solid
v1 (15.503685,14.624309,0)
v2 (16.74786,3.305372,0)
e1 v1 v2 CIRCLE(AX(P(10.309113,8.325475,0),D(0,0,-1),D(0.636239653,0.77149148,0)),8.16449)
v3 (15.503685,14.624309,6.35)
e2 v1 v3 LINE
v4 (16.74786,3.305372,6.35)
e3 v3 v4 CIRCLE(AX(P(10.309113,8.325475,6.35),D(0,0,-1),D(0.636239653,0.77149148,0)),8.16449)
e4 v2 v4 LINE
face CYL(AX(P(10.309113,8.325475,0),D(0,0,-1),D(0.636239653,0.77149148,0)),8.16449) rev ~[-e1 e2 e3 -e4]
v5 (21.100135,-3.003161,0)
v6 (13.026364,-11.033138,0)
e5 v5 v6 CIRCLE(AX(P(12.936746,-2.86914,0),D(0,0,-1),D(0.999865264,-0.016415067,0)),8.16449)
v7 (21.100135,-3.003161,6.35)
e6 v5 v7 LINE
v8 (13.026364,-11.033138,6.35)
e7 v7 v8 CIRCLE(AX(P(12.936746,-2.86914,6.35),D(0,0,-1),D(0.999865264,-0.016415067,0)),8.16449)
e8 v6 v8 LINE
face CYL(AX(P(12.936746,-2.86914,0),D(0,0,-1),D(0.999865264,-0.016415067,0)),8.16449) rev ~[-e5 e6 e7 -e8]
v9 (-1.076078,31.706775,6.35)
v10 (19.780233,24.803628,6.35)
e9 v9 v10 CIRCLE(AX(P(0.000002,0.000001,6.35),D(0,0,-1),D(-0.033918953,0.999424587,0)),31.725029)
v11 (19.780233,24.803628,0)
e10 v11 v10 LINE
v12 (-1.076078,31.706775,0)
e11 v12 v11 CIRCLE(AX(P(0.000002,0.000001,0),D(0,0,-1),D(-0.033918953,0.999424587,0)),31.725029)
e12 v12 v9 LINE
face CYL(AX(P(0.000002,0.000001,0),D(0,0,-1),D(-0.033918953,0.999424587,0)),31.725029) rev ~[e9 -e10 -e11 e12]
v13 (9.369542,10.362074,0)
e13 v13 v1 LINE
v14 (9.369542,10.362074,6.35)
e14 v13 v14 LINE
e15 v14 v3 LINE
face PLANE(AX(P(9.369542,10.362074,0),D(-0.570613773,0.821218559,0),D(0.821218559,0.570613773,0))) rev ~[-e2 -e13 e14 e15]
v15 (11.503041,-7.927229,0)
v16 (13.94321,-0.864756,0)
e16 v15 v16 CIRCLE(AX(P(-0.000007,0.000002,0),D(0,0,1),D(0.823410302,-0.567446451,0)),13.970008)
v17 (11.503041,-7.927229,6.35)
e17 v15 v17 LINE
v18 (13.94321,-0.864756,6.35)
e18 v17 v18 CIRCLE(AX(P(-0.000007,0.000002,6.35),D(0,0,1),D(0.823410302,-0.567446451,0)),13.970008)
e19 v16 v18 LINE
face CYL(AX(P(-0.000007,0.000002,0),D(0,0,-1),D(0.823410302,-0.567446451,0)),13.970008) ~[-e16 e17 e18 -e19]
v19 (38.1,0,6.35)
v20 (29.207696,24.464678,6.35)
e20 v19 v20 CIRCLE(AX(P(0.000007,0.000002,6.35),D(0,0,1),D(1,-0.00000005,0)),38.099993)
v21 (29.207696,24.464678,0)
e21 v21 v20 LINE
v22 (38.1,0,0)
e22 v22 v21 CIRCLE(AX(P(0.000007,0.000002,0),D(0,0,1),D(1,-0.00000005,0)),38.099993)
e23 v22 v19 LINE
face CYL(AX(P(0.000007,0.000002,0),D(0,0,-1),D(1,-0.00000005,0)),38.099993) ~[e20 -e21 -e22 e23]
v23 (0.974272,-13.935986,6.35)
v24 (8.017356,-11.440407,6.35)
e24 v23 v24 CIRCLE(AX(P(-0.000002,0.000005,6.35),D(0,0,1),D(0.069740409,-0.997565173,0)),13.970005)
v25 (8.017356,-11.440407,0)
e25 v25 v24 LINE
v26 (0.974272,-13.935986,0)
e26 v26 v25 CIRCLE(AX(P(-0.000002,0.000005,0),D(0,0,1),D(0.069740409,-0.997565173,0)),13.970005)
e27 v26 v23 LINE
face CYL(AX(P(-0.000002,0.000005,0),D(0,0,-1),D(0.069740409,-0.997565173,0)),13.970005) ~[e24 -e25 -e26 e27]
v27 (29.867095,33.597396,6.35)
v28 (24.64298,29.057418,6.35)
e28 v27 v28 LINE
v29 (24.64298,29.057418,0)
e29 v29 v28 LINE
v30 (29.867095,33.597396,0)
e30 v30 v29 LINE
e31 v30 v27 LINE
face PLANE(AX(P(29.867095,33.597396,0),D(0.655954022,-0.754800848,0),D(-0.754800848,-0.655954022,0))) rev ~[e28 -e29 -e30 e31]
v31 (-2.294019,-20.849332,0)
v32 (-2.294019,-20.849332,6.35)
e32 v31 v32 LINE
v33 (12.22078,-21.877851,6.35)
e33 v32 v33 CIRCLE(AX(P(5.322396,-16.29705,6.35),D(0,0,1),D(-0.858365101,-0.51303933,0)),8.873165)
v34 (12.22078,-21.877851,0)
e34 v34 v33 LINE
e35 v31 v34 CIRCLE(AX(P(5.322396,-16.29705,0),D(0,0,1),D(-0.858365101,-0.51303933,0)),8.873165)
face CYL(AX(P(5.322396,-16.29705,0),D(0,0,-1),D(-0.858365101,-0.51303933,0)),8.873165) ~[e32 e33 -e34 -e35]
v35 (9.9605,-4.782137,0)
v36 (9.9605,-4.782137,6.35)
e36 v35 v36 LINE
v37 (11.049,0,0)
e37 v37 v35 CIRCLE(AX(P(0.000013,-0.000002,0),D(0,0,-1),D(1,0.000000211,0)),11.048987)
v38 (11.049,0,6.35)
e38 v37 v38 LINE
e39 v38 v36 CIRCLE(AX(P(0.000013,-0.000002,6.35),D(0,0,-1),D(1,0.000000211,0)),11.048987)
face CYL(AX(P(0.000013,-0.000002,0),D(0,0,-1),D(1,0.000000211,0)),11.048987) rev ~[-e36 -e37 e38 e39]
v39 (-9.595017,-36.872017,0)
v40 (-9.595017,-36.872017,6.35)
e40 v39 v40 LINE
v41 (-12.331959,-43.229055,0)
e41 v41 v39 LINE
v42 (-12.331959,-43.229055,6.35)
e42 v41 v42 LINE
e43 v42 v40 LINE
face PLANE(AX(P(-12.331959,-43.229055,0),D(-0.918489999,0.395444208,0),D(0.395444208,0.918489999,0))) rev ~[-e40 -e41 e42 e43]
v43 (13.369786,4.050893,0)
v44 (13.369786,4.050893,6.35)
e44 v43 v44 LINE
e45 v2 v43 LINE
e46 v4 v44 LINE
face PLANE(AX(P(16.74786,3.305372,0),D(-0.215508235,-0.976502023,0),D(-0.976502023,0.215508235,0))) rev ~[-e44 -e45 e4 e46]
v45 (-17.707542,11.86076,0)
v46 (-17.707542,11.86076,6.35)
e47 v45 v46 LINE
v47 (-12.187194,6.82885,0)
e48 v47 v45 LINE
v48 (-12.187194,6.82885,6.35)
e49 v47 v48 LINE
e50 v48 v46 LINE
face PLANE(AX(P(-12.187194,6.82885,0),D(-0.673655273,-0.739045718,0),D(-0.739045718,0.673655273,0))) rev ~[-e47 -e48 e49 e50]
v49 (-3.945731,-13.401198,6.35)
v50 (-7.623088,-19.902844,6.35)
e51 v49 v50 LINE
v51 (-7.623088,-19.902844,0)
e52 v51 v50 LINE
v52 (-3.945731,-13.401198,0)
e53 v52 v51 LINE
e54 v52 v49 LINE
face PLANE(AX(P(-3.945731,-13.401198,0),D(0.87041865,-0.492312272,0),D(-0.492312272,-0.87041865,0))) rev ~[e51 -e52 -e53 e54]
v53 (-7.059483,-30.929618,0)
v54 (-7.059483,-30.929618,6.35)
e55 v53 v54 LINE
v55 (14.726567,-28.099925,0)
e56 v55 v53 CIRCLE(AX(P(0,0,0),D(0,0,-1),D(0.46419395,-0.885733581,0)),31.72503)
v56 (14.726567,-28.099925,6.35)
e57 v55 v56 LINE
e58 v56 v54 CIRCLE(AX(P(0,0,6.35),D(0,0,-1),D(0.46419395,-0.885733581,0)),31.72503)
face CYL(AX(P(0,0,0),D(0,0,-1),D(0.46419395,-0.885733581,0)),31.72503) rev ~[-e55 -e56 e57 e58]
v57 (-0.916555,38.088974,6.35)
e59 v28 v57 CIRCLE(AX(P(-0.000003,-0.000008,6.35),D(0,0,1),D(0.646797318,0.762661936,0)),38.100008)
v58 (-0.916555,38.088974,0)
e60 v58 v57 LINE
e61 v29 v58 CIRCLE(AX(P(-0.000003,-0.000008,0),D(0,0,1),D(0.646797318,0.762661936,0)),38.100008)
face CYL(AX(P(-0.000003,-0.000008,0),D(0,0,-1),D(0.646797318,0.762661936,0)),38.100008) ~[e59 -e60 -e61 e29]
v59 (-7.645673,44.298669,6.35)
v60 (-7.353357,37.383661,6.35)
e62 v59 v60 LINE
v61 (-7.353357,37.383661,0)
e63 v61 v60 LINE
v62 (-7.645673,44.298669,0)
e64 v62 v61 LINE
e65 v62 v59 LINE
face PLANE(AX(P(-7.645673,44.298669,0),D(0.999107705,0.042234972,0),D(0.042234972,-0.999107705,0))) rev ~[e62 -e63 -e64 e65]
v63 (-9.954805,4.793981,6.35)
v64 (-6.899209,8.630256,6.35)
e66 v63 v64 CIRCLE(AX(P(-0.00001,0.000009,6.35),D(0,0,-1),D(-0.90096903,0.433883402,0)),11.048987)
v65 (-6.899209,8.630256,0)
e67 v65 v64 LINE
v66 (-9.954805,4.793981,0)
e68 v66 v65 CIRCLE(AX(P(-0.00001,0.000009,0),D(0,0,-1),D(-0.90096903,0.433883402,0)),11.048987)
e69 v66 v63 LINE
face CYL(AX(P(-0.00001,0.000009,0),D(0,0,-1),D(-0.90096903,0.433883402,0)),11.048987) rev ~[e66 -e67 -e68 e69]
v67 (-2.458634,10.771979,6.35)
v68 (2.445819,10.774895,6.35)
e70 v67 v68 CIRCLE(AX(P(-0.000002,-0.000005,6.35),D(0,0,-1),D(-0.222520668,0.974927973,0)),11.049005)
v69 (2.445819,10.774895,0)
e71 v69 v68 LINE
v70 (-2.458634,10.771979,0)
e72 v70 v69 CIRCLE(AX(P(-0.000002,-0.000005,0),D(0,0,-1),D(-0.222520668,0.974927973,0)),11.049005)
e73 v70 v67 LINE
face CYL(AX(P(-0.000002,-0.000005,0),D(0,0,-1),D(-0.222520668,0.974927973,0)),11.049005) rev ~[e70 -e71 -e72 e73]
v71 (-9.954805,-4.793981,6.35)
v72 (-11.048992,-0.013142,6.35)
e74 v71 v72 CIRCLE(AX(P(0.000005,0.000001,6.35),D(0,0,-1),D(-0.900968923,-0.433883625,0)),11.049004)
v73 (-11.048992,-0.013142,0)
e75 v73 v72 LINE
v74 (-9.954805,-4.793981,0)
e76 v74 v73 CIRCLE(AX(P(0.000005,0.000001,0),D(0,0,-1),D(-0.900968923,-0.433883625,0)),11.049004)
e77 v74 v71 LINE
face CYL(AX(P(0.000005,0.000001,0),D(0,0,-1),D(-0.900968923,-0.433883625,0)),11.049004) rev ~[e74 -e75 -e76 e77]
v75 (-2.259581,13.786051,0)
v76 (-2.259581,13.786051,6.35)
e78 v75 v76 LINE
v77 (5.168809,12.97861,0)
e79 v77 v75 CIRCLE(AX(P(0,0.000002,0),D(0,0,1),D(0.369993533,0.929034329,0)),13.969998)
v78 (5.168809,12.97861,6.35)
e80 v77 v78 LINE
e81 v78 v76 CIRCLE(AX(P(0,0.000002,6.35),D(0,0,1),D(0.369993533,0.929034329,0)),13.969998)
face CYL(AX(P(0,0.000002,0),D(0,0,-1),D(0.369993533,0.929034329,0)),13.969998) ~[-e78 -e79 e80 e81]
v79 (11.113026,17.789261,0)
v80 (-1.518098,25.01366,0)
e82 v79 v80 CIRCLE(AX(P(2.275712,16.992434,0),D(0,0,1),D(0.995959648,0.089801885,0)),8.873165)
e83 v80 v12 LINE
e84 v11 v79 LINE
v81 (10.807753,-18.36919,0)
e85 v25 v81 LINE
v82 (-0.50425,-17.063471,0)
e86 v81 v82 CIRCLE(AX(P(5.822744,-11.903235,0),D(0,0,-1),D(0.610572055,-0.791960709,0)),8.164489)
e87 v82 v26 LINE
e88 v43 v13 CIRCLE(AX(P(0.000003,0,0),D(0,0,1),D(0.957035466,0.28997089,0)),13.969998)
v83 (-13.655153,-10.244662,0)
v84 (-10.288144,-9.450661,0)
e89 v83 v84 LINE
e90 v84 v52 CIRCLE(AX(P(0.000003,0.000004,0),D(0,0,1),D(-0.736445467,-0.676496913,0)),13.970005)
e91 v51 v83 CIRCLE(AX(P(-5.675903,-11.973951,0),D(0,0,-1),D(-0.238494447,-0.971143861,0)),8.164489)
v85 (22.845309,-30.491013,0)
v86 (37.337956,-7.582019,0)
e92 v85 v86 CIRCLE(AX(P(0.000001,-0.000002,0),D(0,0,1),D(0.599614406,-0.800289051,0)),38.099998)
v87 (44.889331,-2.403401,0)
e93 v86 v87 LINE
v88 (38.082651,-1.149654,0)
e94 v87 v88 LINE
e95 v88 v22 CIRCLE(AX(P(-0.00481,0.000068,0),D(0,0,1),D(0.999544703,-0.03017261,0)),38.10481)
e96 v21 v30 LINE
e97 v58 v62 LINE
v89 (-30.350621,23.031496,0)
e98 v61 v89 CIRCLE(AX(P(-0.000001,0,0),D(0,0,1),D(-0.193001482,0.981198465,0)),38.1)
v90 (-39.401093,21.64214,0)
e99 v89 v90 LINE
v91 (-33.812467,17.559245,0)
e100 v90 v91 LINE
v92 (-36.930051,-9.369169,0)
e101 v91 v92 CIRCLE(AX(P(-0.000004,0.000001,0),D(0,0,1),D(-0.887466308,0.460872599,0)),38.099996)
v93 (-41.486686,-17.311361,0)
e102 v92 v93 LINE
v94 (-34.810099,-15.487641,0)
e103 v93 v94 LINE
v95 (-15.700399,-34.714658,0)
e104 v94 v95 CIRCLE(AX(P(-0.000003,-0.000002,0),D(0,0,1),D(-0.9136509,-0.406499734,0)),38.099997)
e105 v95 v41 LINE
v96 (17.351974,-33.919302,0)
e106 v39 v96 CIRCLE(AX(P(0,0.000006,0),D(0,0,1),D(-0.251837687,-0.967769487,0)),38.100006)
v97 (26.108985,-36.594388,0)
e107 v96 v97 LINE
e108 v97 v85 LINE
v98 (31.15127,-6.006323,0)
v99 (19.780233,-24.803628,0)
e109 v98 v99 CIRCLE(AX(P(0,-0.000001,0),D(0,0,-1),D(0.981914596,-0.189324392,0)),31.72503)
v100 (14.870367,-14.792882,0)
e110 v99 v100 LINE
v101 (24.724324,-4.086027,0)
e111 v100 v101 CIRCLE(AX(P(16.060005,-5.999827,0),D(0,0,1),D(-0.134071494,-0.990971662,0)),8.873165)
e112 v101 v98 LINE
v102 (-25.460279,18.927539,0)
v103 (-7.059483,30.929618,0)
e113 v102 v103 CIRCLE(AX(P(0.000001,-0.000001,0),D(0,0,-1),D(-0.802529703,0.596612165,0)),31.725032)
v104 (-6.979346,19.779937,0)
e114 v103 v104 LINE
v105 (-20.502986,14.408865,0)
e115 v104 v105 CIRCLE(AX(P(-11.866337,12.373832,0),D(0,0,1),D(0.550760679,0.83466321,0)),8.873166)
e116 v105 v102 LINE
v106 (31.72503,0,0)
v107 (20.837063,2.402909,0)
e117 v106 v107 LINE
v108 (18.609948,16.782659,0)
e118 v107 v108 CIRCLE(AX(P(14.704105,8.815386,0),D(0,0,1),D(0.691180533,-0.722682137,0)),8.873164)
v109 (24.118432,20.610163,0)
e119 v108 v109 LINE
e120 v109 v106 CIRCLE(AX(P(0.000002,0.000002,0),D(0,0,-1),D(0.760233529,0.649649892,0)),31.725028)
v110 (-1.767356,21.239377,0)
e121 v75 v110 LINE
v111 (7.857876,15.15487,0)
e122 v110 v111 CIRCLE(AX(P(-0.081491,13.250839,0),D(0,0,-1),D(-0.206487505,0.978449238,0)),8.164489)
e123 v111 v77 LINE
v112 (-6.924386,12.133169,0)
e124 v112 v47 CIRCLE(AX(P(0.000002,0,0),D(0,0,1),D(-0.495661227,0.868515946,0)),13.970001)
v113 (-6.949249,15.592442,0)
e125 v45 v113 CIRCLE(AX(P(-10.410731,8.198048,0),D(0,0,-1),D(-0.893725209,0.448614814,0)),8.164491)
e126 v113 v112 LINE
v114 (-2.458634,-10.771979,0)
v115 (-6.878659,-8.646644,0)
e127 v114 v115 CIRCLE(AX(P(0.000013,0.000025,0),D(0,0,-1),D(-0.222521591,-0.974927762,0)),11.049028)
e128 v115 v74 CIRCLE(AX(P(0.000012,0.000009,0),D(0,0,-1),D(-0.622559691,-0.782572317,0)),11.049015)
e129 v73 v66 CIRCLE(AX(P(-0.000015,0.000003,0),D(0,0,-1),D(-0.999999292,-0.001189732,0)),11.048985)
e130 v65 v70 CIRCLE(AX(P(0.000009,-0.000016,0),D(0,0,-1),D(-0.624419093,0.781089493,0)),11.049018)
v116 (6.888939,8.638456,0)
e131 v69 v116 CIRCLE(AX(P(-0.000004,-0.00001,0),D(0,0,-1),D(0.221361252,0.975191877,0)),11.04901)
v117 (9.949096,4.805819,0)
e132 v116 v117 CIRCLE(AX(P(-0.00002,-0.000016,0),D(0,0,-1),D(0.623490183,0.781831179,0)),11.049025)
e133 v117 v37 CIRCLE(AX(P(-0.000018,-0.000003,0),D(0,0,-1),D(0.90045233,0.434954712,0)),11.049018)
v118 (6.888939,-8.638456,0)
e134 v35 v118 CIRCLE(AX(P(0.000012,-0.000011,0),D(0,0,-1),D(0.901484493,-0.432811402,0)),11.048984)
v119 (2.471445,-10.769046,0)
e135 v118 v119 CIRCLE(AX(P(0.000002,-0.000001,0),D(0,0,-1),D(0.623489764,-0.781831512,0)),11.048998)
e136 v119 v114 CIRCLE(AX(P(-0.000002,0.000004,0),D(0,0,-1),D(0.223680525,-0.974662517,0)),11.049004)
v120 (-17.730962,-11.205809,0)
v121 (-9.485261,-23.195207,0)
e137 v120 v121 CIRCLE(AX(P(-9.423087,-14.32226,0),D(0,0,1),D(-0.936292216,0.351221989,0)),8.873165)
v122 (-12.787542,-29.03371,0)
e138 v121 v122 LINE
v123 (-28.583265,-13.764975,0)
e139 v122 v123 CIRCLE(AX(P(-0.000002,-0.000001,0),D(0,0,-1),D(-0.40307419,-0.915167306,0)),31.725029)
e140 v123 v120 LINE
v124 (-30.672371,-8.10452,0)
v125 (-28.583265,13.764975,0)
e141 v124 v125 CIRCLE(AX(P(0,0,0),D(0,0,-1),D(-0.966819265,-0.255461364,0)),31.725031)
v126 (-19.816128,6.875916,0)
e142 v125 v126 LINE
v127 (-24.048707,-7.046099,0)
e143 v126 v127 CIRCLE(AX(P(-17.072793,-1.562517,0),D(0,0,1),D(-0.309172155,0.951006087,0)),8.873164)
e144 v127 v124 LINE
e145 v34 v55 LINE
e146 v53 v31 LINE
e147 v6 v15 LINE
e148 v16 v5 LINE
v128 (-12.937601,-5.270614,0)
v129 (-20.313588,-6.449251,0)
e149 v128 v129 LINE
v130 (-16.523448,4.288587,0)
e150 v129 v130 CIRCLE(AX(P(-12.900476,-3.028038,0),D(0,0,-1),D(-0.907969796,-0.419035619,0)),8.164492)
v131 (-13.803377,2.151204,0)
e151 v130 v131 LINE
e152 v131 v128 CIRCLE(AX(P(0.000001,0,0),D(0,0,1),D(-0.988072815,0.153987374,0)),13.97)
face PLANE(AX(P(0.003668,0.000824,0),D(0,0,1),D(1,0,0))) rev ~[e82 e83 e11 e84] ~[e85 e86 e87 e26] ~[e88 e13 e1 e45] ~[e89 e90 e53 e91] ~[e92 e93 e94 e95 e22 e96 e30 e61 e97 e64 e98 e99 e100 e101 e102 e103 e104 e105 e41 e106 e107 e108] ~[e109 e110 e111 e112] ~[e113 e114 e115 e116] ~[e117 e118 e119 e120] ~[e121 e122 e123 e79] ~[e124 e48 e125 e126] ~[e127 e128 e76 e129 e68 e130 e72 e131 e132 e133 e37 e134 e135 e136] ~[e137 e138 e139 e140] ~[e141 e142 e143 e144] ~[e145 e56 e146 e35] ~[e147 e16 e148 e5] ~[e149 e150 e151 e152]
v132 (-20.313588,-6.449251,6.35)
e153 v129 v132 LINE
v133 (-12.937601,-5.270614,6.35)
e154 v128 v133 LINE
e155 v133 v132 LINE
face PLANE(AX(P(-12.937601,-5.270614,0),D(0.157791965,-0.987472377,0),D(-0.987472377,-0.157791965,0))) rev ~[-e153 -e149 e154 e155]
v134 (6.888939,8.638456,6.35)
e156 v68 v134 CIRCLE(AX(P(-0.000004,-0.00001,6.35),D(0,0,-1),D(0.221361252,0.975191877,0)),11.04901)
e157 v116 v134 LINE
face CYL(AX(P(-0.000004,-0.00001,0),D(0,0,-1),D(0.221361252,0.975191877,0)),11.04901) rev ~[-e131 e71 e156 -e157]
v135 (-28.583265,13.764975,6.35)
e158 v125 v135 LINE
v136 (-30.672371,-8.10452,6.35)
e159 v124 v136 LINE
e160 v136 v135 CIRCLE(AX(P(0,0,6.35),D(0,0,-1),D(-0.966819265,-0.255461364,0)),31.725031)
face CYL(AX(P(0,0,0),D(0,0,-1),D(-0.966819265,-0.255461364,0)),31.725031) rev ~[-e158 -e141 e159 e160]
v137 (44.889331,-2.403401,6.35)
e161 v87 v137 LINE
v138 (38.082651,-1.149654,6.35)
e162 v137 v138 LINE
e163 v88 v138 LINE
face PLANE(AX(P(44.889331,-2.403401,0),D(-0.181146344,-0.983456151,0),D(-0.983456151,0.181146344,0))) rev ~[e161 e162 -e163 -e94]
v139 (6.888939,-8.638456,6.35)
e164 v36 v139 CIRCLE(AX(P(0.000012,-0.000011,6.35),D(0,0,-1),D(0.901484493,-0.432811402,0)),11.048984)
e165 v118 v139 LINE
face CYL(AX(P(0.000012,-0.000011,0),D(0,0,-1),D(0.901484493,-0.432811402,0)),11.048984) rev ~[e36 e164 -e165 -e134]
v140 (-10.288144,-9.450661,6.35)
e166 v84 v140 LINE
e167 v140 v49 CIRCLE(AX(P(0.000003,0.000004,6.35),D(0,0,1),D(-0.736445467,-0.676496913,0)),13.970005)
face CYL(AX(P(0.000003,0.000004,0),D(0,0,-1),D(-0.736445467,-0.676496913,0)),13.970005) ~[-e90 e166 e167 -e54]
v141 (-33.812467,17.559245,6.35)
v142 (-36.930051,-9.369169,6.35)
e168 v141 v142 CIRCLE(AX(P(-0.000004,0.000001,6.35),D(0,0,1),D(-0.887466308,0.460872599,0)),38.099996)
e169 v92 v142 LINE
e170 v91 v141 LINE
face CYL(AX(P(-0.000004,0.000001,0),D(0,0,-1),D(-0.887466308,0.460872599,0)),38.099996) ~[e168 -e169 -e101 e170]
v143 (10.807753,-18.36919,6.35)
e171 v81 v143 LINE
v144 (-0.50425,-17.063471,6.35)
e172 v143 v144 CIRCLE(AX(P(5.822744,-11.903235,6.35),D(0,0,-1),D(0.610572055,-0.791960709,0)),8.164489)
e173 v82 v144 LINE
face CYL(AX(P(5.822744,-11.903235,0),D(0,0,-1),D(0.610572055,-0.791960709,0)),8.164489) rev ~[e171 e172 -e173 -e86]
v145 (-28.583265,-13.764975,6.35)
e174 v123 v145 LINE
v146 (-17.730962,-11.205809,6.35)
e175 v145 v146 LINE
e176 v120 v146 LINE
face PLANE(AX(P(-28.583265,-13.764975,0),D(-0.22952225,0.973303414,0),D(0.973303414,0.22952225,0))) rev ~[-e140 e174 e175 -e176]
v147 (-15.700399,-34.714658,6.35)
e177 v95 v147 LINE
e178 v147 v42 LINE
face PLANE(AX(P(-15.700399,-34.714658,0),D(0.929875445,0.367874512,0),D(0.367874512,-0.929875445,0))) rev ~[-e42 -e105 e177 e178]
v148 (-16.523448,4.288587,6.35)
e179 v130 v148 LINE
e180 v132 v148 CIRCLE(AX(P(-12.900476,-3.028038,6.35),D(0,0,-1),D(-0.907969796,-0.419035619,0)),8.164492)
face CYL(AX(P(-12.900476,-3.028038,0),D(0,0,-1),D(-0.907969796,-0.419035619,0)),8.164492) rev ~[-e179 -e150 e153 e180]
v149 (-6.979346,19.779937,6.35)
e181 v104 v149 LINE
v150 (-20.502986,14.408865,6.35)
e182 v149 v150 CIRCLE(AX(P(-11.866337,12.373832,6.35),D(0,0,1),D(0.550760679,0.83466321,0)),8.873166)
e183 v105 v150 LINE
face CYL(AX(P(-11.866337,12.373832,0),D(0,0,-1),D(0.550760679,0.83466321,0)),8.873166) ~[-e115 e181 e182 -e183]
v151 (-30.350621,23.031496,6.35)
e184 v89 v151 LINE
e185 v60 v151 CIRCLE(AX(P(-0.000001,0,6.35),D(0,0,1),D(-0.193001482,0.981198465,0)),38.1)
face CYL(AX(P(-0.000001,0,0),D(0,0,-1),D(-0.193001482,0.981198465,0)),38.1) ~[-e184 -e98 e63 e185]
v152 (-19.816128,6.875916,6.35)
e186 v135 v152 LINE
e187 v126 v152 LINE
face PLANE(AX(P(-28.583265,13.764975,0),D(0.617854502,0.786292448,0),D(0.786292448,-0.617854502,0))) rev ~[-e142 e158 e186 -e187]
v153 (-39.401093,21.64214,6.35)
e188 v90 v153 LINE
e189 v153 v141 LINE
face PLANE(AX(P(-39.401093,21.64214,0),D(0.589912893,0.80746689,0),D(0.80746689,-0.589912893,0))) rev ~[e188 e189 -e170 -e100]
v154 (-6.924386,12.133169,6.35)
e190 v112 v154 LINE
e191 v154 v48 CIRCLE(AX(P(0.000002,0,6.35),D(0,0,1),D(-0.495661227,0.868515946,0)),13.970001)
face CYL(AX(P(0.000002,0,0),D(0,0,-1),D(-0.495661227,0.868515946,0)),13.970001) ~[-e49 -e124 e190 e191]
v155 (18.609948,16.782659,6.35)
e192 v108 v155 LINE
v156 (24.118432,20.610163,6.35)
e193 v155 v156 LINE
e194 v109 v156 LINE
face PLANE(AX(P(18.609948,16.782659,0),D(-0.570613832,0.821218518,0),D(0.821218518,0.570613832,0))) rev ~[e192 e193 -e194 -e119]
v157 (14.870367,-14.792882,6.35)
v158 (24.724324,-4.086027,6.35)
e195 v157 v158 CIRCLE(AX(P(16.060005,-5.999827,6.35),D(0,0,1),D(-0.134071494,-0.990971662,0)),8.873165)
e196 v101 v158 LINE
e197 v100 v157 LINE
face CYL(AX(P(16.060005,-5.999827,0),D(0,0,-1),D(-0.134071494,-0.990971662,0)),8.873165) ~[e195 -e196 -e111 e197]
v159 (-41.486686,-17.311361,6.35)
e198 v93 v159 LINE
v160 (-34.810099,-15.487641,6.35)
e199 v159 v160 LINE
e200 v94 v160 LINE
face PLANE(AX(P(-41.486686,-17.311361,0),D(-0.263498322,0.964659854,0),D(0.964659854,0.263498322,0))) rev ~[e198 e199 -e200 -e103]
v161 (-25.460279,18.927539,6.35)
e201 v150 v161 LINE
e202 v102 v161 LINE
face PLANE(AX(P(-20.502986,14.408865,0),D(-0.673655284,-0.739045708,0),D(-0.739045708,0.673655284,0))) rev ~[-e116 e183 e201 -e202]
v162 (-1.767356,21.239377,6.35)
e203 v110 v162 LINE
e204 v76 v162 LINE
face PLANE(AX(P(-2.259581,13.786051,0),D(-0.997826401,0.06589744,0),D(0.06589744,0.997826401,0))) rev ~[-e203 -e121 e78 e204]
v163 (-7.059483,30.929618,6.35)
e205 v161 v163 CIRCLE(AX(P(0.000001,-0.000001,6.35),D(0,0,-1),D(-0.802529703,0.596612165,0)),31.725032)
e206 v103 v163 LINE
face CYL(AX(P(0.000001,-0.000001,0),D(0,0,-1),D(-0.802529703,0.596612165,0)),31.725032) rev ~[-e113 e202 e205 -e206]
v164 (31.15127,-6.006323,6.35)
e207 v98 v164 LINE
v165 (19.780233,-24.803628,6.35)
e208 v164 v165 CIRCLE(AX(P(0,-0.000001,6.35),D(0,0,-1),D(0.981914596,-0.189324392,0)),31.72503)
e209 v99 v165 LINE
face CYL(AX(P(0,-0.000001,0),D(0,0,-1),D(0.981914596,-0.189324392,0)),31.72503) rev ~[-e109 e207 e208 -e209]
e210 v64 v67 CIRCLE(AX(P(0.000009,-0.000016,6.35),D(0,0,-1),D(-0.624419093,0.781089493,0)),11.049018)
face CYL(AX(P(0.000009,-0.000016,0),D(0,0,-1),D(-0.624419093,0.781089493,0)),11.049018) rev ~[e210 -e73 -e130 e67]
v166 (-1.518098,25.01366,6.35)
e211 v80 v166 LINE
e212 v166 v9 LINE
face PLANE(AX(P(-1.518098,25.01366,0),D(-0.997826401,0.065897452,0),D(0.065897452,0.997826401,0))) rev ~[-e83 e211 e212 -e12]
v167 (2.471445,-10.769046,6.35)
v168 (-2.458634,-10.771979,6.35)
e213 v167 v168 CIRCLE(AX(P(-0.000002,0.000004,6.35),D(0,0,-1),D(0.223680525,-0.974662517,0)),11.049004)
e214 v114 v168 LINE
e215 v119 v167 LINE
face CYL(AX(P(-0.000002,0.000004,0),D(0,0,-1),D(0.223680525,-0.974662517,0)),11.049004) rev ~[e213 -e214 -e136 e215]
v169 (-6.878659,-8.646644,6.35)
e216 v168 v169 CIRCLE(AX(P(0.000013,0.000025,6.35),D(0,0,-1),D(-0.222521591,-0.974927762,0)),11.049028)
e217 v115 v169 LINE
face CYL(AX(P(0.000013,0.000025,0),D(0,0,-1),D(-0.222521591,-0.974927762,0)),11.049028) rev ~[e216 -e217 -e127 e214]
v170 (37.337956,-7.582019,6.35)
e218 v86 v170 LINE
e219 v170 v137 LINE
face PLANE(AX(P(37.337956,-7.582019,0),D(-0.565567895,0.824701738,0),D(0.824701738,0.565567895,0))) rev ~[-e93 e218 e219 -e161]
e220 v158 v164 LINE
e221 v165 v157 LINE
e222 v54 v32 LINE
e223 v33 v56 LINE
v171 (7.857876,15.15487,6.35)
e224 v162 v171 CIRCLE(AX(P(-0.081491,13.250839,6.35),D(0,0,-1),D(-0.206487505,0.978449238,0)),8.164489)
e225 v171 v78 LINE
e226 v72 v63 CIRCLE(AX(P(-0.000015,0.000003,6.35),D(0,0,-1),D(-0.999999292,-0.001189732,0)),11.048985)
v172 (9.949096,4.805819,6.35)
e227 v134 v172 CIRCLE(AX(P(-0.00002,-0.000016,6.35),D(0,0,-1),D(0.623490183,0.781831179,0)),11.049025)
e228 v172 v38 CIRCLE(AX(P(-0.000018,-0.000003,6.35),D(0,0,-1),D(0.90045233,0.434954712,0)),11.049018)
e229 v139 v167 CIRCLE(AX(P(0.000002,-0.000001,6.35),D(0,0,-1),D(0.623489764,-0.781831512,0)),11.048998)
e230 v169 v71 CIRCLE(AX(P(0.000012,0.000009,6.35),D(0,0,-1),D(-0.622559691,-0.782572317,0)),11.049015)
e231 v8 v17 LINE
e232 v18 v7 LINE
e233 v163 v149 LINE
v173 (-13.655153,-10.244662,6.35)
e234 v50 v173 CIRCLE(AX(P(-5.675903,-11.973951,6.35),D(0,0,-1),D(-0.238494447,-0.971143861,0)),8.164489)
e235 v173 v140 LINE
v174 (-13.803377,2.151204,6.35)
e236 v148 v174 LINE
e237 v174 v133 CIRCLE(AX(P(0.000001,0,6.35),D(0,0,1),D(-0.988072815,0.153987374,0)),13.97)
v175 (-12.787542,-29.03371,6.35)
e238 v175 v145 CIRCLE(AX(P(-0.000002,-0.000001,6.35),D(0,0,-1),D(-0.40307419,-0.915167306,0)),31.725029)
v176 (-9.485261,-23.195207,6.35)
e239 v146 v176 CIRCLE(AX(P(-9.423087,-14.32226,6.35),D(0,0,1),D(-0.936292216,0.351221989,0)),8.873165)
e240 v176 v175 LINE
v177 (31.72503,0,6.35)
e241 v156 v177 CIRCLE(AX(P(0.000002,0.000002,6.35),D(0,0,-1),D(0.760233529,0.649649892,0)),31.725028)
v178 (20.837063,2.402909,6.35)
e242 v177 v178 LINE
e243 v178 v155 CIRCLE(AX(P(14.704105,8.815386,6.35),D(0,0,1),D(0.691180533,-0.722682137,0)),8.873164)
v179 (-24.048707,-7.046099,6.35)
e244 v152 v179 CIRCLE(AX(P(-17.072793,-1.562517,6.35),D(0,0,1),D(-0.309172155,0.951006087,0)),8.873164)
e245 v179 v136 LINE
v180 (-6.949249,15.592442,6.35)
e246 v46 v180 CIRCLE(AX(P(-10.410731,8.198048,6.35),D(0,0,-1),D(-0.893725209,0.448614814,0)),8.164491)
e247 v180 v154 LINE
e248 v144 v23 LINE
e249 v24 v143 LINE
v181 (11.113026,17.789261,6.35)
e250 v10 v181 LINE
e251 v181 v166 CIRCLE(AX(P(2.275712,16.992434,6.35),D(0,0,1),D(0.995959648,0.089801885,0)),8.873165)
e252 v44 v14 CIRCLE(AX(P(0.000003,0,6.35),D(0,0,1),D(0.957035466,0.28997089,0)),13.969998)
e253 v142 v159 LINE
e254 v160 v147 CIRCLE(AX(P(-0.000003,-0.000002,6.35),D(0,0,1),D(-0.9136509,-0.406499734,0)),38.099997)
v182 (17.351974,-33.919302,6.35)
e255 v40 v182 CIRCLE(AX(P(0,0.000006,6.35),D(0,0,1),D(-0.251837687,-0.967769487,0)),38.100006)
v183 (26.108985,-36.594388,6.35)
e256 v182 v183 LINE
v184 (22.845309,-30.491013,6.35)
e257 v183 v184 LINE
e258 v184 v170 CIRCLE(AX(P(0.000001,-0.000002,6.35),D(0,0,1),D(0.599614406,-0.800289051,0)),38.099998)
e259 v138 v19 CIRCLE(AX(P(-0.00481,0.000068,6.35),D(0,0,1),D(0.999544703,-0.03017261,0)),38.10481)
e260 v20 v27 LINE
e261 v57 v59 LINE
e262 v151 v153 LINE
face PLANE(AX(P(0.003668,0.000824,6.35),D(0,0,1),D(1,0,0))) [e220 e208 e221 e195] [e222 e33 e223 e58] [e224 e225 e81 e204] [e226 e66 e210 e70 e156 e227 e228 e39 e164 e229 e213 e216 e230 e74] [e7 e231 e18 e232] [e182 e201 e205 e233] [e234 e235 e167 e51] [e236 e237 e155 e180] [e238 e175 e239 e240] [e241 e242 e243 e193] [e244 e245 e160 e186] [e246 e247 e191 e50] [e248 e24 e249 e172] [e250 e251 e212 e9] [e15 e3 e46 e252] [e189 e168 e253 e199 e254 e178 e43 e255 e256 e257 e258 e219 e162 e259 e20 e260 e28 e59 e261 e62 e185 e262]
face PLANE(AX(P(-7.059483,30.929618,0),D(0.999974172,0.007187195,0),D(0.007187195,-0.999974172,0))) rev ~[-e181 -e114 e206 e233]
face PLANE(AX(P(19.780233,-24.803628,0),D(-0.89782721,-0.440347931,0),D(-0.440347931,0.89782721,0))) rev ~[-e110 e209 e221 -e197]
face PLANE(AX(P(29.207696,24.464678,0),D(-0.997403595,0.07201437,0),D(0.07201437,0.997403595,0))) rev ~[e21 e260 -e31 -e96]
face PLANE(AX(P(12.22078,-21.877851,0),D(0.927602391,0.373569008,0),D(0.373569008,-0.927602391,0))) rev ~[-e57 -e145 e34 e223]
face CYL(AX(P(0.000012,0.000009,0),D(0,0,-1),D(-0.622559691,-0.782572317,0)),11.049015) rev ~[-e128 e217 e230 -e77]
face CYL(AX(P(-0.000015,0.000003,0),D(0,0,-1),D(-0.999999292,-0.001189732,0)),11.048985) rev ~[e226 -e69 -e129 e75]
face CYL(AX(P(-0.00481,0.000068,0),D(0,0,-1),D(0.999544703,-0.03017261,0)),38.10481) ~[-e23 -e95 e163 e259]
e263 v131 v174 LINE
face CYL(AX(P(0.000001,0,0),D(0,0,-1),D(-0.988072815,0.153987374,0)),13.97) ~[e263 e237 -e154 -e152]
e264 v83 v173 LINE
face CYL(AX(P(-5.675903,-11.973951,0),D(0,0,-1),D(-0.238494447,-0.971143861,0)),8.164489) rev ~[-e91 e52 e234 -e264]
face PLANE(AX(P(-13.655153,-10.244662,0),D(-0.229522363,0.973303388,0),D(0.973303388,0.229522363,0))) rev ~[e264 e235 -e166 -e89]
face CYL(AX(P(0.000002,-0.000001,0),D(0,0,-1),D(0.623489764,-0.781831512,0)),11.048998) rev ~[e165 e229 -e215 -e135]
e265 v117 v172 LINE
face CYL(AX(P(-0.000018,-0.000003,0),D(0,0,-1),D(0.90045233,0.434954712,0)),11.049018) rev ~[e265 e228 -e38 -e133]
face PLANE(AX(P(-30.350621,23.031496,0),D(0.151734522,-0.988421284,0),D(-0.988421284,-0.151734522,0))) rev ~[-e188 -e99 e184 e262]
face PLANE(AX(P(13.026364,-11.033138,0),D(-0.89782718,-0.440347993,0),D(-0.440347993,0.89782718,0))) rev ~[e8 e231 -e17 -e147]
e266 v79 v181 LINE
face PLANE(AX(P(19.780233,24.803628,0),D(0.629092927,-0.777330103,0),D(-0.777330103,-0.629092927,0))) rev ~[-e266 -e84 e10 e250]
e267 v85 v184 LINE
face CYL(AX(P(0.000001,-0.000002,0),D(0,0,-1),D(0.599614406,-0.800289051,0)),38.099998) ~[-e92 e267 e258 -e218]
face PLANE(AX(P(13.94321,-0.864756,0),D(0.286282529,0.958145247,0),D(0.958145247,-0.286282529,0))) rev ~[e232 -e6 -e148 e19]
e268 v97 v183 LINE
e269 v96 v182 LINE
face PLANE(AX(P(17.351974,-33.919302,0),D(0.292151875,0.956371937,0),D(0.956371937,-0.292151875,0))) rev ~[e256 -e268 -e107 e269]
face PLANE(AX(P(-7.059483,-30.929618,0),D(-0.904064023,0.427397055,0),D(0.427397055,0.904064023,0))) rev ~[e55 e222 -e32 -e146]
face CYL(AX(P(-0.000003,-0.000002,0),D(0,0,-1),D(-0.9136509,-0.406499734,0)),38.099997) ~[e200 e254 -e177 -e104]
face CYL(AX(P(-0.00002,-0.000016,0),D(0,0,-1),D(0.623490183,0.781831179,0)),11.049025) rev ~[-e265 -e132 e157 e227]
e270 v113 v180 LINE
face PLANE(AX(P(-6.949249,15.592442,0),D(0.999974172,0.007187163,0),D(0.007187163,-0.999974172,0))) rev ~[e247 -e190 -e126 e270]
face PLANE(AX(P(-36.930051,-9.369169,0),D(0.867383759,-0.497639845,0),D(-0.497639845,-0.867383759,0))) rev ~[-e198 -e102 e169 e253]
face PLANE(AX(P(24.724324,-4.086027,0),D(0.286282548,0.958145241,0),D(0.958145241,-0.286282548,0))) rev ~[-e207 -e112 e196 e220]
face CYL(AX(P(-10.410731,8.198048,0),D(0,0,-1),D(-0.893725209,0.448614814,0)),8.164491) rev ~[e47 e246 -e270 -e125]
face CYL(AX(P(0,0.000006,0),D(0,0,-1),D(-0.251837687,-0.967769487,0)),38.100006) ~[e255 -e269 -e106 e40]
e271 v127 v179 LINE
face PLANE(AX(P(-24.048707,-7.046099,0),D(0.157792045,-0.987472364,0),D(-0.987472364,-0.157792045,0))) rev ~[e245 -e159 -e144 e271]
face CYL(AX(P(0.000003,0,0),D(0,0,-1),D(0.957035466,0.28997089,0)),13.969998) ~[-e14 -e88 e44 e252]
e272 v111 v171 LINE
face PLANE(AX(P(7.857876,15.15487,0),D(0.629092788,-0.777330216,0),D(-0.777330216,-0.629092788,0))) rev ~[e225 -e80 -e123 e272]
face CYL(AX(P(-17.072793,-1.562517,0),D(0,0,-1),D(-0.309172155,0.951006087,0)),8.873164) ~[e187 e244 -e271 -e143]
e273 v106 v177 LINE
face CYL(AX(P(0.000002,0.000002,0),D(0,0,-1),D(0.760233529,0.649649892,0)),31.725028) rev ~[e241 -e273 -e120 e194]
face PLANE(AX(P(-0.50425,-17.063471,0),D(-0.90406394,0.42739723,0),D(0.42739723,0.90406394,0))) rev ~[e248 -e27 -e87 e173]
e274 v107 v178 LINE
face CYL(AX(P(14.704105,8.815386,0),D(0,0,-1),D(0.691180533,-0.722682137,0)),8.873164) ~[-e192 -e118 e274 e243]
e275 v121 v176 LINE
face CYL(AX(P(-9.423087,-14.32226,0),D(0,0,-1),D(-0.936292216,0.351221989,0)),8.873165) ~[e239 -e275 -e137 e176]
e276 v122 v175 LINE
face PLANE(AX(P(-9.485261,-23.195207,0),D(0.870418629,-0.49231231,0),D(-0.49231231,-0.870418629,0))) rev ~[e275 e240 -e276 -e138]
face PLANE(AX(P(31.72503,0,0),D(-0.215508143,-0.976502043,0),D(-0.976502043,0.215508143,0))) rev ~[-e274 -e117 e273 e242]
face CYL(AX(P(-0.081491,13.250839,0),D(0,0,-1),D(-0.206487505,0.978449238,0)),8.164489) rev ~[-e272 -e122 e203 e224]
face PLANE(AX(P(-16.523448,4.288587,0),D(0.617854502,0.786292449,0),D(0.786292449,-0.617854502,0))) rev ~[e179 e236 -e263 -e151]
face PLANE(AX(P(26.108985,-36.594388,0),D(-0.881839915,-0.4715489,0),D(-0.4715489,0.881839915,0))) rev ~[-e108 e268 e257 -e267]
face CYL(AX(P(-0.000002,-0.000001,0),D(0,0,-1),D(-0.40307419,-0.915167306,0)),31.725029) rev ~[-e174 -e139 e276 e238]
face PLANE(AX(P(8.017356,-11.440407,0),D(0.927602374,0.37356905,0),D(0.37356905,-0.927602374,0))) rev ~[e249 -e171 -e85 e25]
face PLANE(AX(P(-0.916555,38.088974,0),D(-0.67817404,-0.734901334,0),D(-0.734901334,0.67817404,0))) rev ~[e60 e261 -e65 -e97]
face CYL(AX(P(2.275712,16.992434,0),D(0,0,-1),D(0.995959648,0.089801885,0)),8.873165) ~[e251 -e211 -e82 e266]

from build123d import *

# Parameters (mm, degrees)
F1_DEPTH = 6.35


with BuildPart() as f1:
    # F0 (on Top) → F1 (new body)
    with BuildSketch(Plane.XY):
        with BuildLine():
            ThreePointArc((38.082651, -1.149654), (38.095662, -0.574892), (38.1, 0))
            ThreePointArc((38.1, 0), (35.807983, 13.015313), (29.207696, 24.464678))
            ThreePointArc((29.207696, 24.464678), (27.023086, 26.858199), (24.64298, 29.057418))
            ThreePointArc((24.64298, 29.057418), (12.693623, 35.923278), (-0.916555, 38.088974))
            ThreePointArc((-0.916555, 38.088974), (-4.149967, 37.873312), (-7.353357, 37.383661))
            ThreePointArc((-7.353357, 37.383661), (-20.171605, 32.322072), (-30.350621, 23.031496))
            ThreePointArc((-30.350621, 23.031496), (-32.19801, 20.369049), (-33.812467, 17.559245))
            ThreePointArc((-33.812467, 17.559245), (-37.847204, 4.381686), (-36.930051, -9.369169))
            ThreePointArc((-36.930051, -9.369169), (-36.000295, -12.473524), (-34.810099, -15.487641))
            ThreePointArc((-34.810099, -15.487641), (-27.023086, -26.858199), (-15.700399, -34.714658))
            ThreePointArc((-15.700399, -34.714658), (-12.693623, -35.923278), (-9.595017, -36.872017))
            ThreePointArc((-9.595017, -36.872017), (4.149967, -37.873312), (17.351974, -33.919302))
            ThreePointArc((17.351974, -33.919302), (20.171605, -32.322072), (22.845309, -30.491013))
            ThreePointArc((22.845309, -30.491013), (32.19801, -20.369049), (37.337956, -7.582019))
            ThreePointArc((37.337956, -7.582019), (37.847204, -4.381686), (38.082651, -1.149654))
        make_face()
        with BuildLine():
            ThreePointArc((31.72503, 0), (31.581265, -3.016833), (31.15127, -6.006323))
            ThreePointArc((31.15127, -6.006323), (27.144782, -16.420669), (19.780233, -24.803628))
            ThreePointArc((19.780233, -24.803628), (17.331942, -26.572191), (14.726567, -28.099925))
            ThreePointArc((14.726567, -28.099925), (4.086298, -31.460765), (-7.059483, -30.929618))
            ThreePointArc((-7.059483, -30.929618), (-9.968687, -30.118148), (-12.787542, -29.03371))
            ThreePointArc((-12.787542, -29.03371), (-22.049251, -22.810263), (-28.583265, -13.764975))
            ThreePointArc((-28.583265, -13.764975), (-29.762691, -10.984525), (-30.672371, -8.10452))
            ThreePointArc((-30.672371, -8.10452), (-31.581265, 3.016833), (-28.583265, 13.764975))
            ThreePointArc((-28.583265, 13.764975), (-27.144782, 16.420669), (-25.460279, 18.927539))
            ThreePointArc((-25.460279, 18.927539), (-17.331942, 26.572191), (-7.059483, 30.929618))
            ThreePointArc((-7.059483, 30.929618), (-4.086298, 31.460765), (-1.076078, 31.706775))
            ThreePointArc((-1.076078, 31.706775), (9.968687, 30.118148), (19.780233, 24.803628))
            ThreePointArc((19.780233, 24.803628), (22.049251, 22.810263), (24.118432, 20.610163))
            ThreePointArc((24.118432, 20.610163), (29.762691, 10.984525), (31.72503, 0))
        make_face(mode=Mode.SUBTRACT)
        with BuildLine():
            Line((-13.655153, -10.244662), (-10.288144, -9.450661))
            ThreePointArc((-10.288144, -9.450661), (-11.79945, -7.478896), (-12.937601, -5.270614))
            Line((-12.937601, -5.270614), (-20.313588, -6.449251))
            Line((-20.313588, -6.449251), (-24.048707, -7.046099))
            Line((-24.048707, -7.046099), (-30.672371, -8.10452))
            ThreePointArc((-30.672371, -8.10452), (-29.762691, -10.984525), (-28.583265, -13.764975))
            Line((-28.583265, -13.764975), (-17.730962, -11.205809))
            Line((-17.730962, -11.205809), (-13.655153, -10.244662))
        make_face()
        with BuildLine():
            ThreePointArc((-13.803377, 2.151204), (-13.204073, 4.562166), (-12.187194, 6.82885))
            Line((-12.187194, 6.82885), (-17.707542, 11.86076))
            Line((-17.707542, 11.86076), (-20.502986, 14.408865))
            Line((-20.502986, 14.408865), (-25.460279, 18.927539))
            ThreePointArc((-25.460279, 18.927539), (-27.144782, 16.420669), (-28.583265, 13.764975))
            Line((-28.583265, 13.764975), (-19.816128, 6.875916))
            Line((-19.816128, 6.875916), (-16.523448, 4.288587))
            Line((-16.523448, 4.288587), (-13.803377, 2.151204))
        make_face()
        with BuildLine():
            ThreePointArc((-6.924386, 12.133169), (-4.66576, 13.167824), (-2.259581, 13.786051))
            Line((-2.259581, 13.786051), (-1.767356, 21.239377))
            Line((-1.767356, 21.239377), (-1.518098, 25.01366))
            Line((-1.518098, 25.01366), (-1.076078, 31.706775))
            ThreePointArc((-1.076078, 31.706775), (-4.086298, 31.460765), (-7.059483, 30.929618))
            Line((-7.059483, 30.929618), (-6.979346, 19.779937))
            Line((-6.979346, 19.779937), (-6.949249, 15.592442))
            Line((-6.949249, 15.592442), (-6.924386, 12.133169))
        make_face()
        with BuildLine():
            ThreePointArc((5.168809, 12.97861), (7.385965, 11.857842), (9.369542, 10.362074))
            Line((9.369542, 10.362074), (15.503685, 14.624309))
            Line((15.503685, 14.624309), (18.609948, 16.782659))
            Line((18.609948, 16.782659), (24.118432, 20.610163))
            ThreePointArc((24.118432, 20.610163), (22.049251, 22.810263), (19.780233, 24.803628))
            Line((19.780233, 24.803628), (11.113026, 17.789261))
            Line((11.113026, 17.789261), (7.857876, 15.15487))
            Line((7.857876, 15.15487), (5.168809, 12.97861))
        make_face()
        with BuildLine():
            ThreePointArc((13.97, 0), (13.963301, -0.432585), (13.94321, -0.864756))
            Line((13.94321, -0.864756), (21.100135, -3.003161))
            Line((21.100135, -3.003161), (24.724324, -4.086027))
            Line((24.724324, -4.086027), (31.15127, -6.006323))
            ThreePointArc((31.15127, -6.006323), (31.581265, -3.016833), (31.72503, 0))
            Line((31.72503, 0), (20.837063, 2.402909))
            Line((20.837063, 2.402909), (16.74786, 3.305372))
            Line((16.74786, 3.305372), (13.369786, 4.050893))
            ThreePointArc((13.369786, 4.050893), (13.819132, 2.047559), (13.97, 0))
        make_face()
        with BuildLine():
            Line((13.026364, -11.033138), (11.503041, -7.927229))
            ThreePointArc((11.503041, -7.927229), (9.917009, -9.839402), (8.017356, -11.440407))
            Line((8.017356, -11.440407), (10.807753, -18.36919))
            Line((10.807753, -18.36919), (12.22078, -21.877851))
            Line((12.22078, -21.877851), (14.726567, -28.099925))
            ThreePointArc((14.726567, -28.099925), (17.331942, -26.572191), (19.780233, -24.803628))
            Line((19.780233, -24.803628), (14.870367, -14.792882))
            Line((14.870367, -14.792882), (13.026364, -11.033138))
        make_face()
        with BuildLine():
            Line((-0.50425, -17.063471), (0.974272, -13.935986))
            ThreePointArc((0.974272, -13.935986), (-1.5096, -13.888197), (-3.945731, -13.401198))
            Line((-3.945731, -13.401198), (-7.623088, -19.902844))
            Line((-7.623088, -19.902844), (-9.485261, -23.195207))
            Line((-9.485261, -23.195207), (-12.787542, -29.03371))
            ThreePointArc((-12.787542, -29.03371), (-9.968687, -30.118148), (-7.059483, -30.929618))
            Line((-7.059483, -30.929618), (-2.294019, -20.849332))
            Line((-2.294019, -20.849332), (-0.50425, -17.063471))
        make_face()
        with BuildLine():
            ThreePointArc((-6.899209, 8.630256), (-4.799901, 9.951952), (-2.458634, 10.771979))
            Line((-2.458634, 10.771979), (-2.259581, 13.786051))
            ThreePointArc((-2.259581, 13.786051), (-4.66576, 13.167824), (-6.924386, 12.133169))
            Line((-6.924386, 12.133169), (-6.899209, 8.630256))
        make_face()
        with BuildLine():
            ThreePointArc((-11.048992, -0.013142), (-10.773439, 2.452227), (-9.954805, 4.793981))
            Line((-9.954805, 4.793981), (-12.187194, 6.82885))
            ThreePointArc((-12.187194, 6.82885), (-13.204073, 4.562166), (-13.803377, 2.151204))
            Line((-13.803377, 2.151204), (-11.048992, -0.013142))
        make_face()
        with BuildLine():
            Line((-10.288144, -9.450661), (-6.878659, -8.646644))
            ThreePointArc((-6.878659, -8.646644), (-8.634357, -6.894075), (-9.954805, -4.793981))
            Line((-9.954805, -4.793981), (-12.937601, -5.270614))
            ThreePointArc((-12.937601, -5.270614), (-11.79945, -7.478896), (-10.288144, -9.450661))
        make_face()
        with BuildLine():
            Line((0.974272, -13.935986), (2.471445, -10.769046))
            ThreePointArc((2.471445, -10.769046), (0.006571, -11.048998), (-2.458634, -10.771979))
            Line((-2.458634, -10.771979), (-3.945731, -13.401198))
            ThreePointArc((-3.945731, -13.401198), (-1.5096, -13.888197), (0.974272, -13.935986))
        make_face()
        with BuildLine():
            Line((11.503041, -7.927229), (9.9605, -4.782137))
            ThreePointArc((9.9605, -4.782137), (8.642552, -6.8838), (6.888939, -8.638456))
            Line((6.888939, -8.638456), (8.017356, -11.440407))
            ThreePointArc((8.017356, -11.440407), (9.917009, -9.839402), (11.503041, -7.927229))
        make_face()
        with BuildLine():
            ThreePointArc((9.949096, 4.805819), (10.770514, 2.46504), (11.049, 0))
            Line((11.049, 0), (13.94321, -0.864756))
            ThreePointArc((13.94321, -0.864756), (13.963301, -0.432585), (13.97, 0))
            ThreePointArc((13.97, 0), (13.819132, 2.047559), (13.369786, 4.050893))
            Line((13.369786, 4.050893), (9.949096, 4.805819))
        make_face()
        with BuildLine():
            ThreePointArc((2.445819, 10.774895), (4.78806, 9.957654), (6.888939, 8.638456))
            Line((6.888939, 8.638456), (9.369542, 10.362074))
            ThreePointArc((9.369542, 10.362074), (7.385965, 11.857842), (5.168809, 12.97861))
            Line((5.168809, 12.97861), (2.445819, 10.774895))
        make_face()
        with BuildLine():
            ThreePointArc((-34.810099, -15.487641), (-36.000295, -12.473524), (-36.930051, -9.369169))
            Line((-36.930051, -9.369169), (-41.486686, -17.311361))
            Line((-41.486686, -17.311361), (-34.810099, -15.487641))
        make_face()
        with BuildLine():
            ThreePointArc((-33.812467, 17.559245), (-32.19801, 20.369049), (-30.350621, 23.031496))
            Line((-30.350621, 23.031496), (-39.401093, 21.64214))
            Line((-39.401093, 21.64214), (-33.812467, 17.559245))
        make_face()
        with BuildLine():
            ThreePointArc((-7.353357, 37.383661), (-4.149967, 37.873312), (-0.916555, 38.088974))
            Line((-0.916555, 38.088974), (-7.645673, 44.298669))
            Line((-7.645673, 44.298669), (-7.353357, 37.383661))
        make_face()
        with BuildLine():
            ThreePointArc((24.64298, 29.057418), (27.023086, 26.858199), (29.207696, 24.464678))
            Line((29.207696, 24.464678), (29.867095, 33.597396))
            Line((29.867095, 33.597396), (24.64298, 29.057418))
        make_face()
        with BuildLine():
            Line((44.889331, -2.403401), (38.082651, -1.149654))
            ThreePointArc((38.082651, -1.149654), (37.847204, -4.381686), (37.337956, -7.582019))
            Line((37.337956, -7.582019), (44.889331, -2.403401))
        make_face()
        with BuildLine():
            Line((26.108985, -36.594388), (22.845309, -30.491013))
            ThreePointArc((22.845309, -30.491013), (20.171605, -32.322072), (17.351974, -33.919302))
            Line((17.351974, -33.919302), (26.108985, -36.594388))
        make_face()
        with BuildLine():
            Line((-12.331959, -43.229055), (-9.595017, -36.872017))
            ThreePointArc((-9.595017, -36.872017), (-12.693623, -35.923278), (-15.700399, -34.714658))
            Line((-15.700399, -34.714658), (-12.331959, -43.229055))
        make_face()
        with BuildLine():
            ThreePointArc((-17.707542, 11.86076), (-13.086324, 15.91168), (-6.949249, 15.592442))
            Line((-6.949249, 15.592442), (-6.979346, 19.779937))
            ThreePointArc((-6.979346, 19.779937), (-15.14156, 20.620406), (-20.502986, 14.408865))
            Line((-20.502986, 14.408865), (-17.707542, 11.86076))
        make_face()
        with BuildLine():
            ThreePointArc((-1.767356, 21.239377), (4.281063, 20.152071), (7.857876, 15.15487))
            Line((7.857876, 15.15487), (11.113026, 17.789261))
            ThreePointArc((11.113026, 17.789261), (6.681074, 24.694761), (-1.518098, 25.01366))
            Line((-1.518098, 25.01366), (-1.767356, 21.239377))
        make_face()
        with BuildLine():
            ThreePointArc((15.503685, 14.624309), (18.424722, 9.217541), (16.74786, 3.305372))
            Line((16.74786, 3.305372), (20.837063, 2.402909))
            ThreePointArc((20.837063, 2.402909), (23.472724, 10.173458), (18.609948, 16.782659))
            Line((18.609948, 16.782659), (15.503685, 14.624309))
        make_face()
        with BuildLine():
            Line((24.724324, -4.086027), (21.100135, -3.003161))
            ThreePointArc((21.100135, -3.003161), (18.69419, -8.657985), (13.026364, -11.033138))
            Line((13.026364, -11.033138), (14.870367, -14.792882))
            ThreePointArc((14.870367, -14.792882), (22.588933, -12.008667), (24.724324, -4.086027))
        make_face()
        with BuildLine():
            Line((-24.048707, -7.046099), (-20.313588, -6.449251))
            ThreePointArc((-20.313588, -6.449251), (-20.599442, -0.31053), (-16.523448, 4.288587))
            Line((-16.523448, 4.288587), (-19.816128, 6.875916))
            ThreePointArc((-19.816128, 6.875916), (-25.562291, 1.018464), (-24.048707, -7.046099))
        make_face()
        with BuildLine():
            Line((12.22078, -21.877851), (10.807753, -18.36919))
            ThreePointArc((10.807753, -18.36919), (4.886551, -20.013872), (-0.50425, -17.063471))
            Line((-0.50425, -17.063471), (-2.294019, -20.849332))
            ThreePointArc((-2.294019, -20.849332), (4.695216, -25.148021), (12.22078, -21.877851))
        make_face()
        with BuildLine():
            Line((-9.485261, -23.195207), (-7.623088, -19.902844))
            ThreePointArc((-7.623088, -19.902844), (-12.60076, -16.298905), (-13.655153, -10.244662))
            Line((-13.655153, -10.244662), (-17.730962, -11.205809))
            ThreePointArc((-17.730962, -11.205809), (-16.734095, -19.350402), (-9.485261, -23.195207))
        make_face()
        with BuildLine():
            Line((-12.937601, -5.270614), (-9.954805, -4.793981))
            ThreePointArc((-9.954805, -4.793981), (-10.770514, -2.46504), (-11.048992, -0.013142))
            Line((-11.048992, -0.013142), (-13.803377, 2.151204))
            ThreePointArc((-13.803377, 2.151204), (-13.875908, -1.618663), (-12.937601, -5.270614))
        make_face()
        with BuildLine():
            Line((-3.945731, -13.401198), (-2.458634, -10.771979))
            ThreePointArc((-2.458634, -10.771979), (-4.78806, -9.957654), (-6.878659, -8.646644))
            Line((-6.878659, -8.646644), (-10.288144, -9.450661))
            ThreePointArc((-10.288144, -9.450661), (-7.385965, -11.857842), (-3.945731, -13.401198))
        make_face()
        with BuildLine():
            Line((8.017356, -11.440407), (6.888939, -8.638456))
            ThreePointArc((6.888939, -8.638456), (4.799901, -9.951952), (2.471445, -10.769046))
            Line((2.471445, -10.769046), (0.974272, -13.935986))
            ThreePointArc((0.974272, -13.935986), (4.66576, -13.167824), (8.017356, -11.440407))
        make_face()
        with BuildLine():
            Line((13.94321, -0.864756), (11.049, 0))
            ThreePointArc((11.049, 0), (10.773439, -2.452227), (9.9605, -4.782137))
            Line((9.9605, -4.782137), (11.503041, -7.927229))
            ThreePointArc((11.503041, -7.927229), (13.204073, -4.562166), (13.94321, -0.864756))
        make_face()
        with BuildLine():
            ThreePointArc((6.888939, 8.638456), (8.634357, 6.894075), (9.949096, 4.805819))
            Line((9.949096, 4.805819), (13.369786, 4.050893))
            ThreePointArc((13.369786, 4.050893), (11.79945, 7.478896), (9.369542, 10.362074))
            Line((9.369542, 10.362074), (6.888939, 8.638456))
        make_face()
        with BuildLine():
            ThreePointArc((-2.458634, 10.771979), (-0.006571, 11.048998), (2.445819, 10.774895))
            Line((2.445819, 10.774895), (5.168809, 12.97861))
            ThreePointArc((5.168809, 12.97861), (1.5096, 13.888197), (-2.259581, 13.786051))
            Line((-2.259581, 13.786051), (-2.458634, 10.771979))
        make_face()
        with BuildLine():
            ThreePointArc((-9.954805, 4.793981), (-8.642552, 6.8838), (-6.899209, 8.630256))
            Line((-6.899209, 8.630256), (-6.924386, 12.133169))
            ThreePointArc((-6.924386, 12.133169), (-9.917009, 9.839402), (-12.187194, 6.82885))
            Line((-12.187194, 6.82885), (-9.954805, 4.793981))
        make_face()
    extrude(amount=F1_DEPTH)


solid = f1.part
